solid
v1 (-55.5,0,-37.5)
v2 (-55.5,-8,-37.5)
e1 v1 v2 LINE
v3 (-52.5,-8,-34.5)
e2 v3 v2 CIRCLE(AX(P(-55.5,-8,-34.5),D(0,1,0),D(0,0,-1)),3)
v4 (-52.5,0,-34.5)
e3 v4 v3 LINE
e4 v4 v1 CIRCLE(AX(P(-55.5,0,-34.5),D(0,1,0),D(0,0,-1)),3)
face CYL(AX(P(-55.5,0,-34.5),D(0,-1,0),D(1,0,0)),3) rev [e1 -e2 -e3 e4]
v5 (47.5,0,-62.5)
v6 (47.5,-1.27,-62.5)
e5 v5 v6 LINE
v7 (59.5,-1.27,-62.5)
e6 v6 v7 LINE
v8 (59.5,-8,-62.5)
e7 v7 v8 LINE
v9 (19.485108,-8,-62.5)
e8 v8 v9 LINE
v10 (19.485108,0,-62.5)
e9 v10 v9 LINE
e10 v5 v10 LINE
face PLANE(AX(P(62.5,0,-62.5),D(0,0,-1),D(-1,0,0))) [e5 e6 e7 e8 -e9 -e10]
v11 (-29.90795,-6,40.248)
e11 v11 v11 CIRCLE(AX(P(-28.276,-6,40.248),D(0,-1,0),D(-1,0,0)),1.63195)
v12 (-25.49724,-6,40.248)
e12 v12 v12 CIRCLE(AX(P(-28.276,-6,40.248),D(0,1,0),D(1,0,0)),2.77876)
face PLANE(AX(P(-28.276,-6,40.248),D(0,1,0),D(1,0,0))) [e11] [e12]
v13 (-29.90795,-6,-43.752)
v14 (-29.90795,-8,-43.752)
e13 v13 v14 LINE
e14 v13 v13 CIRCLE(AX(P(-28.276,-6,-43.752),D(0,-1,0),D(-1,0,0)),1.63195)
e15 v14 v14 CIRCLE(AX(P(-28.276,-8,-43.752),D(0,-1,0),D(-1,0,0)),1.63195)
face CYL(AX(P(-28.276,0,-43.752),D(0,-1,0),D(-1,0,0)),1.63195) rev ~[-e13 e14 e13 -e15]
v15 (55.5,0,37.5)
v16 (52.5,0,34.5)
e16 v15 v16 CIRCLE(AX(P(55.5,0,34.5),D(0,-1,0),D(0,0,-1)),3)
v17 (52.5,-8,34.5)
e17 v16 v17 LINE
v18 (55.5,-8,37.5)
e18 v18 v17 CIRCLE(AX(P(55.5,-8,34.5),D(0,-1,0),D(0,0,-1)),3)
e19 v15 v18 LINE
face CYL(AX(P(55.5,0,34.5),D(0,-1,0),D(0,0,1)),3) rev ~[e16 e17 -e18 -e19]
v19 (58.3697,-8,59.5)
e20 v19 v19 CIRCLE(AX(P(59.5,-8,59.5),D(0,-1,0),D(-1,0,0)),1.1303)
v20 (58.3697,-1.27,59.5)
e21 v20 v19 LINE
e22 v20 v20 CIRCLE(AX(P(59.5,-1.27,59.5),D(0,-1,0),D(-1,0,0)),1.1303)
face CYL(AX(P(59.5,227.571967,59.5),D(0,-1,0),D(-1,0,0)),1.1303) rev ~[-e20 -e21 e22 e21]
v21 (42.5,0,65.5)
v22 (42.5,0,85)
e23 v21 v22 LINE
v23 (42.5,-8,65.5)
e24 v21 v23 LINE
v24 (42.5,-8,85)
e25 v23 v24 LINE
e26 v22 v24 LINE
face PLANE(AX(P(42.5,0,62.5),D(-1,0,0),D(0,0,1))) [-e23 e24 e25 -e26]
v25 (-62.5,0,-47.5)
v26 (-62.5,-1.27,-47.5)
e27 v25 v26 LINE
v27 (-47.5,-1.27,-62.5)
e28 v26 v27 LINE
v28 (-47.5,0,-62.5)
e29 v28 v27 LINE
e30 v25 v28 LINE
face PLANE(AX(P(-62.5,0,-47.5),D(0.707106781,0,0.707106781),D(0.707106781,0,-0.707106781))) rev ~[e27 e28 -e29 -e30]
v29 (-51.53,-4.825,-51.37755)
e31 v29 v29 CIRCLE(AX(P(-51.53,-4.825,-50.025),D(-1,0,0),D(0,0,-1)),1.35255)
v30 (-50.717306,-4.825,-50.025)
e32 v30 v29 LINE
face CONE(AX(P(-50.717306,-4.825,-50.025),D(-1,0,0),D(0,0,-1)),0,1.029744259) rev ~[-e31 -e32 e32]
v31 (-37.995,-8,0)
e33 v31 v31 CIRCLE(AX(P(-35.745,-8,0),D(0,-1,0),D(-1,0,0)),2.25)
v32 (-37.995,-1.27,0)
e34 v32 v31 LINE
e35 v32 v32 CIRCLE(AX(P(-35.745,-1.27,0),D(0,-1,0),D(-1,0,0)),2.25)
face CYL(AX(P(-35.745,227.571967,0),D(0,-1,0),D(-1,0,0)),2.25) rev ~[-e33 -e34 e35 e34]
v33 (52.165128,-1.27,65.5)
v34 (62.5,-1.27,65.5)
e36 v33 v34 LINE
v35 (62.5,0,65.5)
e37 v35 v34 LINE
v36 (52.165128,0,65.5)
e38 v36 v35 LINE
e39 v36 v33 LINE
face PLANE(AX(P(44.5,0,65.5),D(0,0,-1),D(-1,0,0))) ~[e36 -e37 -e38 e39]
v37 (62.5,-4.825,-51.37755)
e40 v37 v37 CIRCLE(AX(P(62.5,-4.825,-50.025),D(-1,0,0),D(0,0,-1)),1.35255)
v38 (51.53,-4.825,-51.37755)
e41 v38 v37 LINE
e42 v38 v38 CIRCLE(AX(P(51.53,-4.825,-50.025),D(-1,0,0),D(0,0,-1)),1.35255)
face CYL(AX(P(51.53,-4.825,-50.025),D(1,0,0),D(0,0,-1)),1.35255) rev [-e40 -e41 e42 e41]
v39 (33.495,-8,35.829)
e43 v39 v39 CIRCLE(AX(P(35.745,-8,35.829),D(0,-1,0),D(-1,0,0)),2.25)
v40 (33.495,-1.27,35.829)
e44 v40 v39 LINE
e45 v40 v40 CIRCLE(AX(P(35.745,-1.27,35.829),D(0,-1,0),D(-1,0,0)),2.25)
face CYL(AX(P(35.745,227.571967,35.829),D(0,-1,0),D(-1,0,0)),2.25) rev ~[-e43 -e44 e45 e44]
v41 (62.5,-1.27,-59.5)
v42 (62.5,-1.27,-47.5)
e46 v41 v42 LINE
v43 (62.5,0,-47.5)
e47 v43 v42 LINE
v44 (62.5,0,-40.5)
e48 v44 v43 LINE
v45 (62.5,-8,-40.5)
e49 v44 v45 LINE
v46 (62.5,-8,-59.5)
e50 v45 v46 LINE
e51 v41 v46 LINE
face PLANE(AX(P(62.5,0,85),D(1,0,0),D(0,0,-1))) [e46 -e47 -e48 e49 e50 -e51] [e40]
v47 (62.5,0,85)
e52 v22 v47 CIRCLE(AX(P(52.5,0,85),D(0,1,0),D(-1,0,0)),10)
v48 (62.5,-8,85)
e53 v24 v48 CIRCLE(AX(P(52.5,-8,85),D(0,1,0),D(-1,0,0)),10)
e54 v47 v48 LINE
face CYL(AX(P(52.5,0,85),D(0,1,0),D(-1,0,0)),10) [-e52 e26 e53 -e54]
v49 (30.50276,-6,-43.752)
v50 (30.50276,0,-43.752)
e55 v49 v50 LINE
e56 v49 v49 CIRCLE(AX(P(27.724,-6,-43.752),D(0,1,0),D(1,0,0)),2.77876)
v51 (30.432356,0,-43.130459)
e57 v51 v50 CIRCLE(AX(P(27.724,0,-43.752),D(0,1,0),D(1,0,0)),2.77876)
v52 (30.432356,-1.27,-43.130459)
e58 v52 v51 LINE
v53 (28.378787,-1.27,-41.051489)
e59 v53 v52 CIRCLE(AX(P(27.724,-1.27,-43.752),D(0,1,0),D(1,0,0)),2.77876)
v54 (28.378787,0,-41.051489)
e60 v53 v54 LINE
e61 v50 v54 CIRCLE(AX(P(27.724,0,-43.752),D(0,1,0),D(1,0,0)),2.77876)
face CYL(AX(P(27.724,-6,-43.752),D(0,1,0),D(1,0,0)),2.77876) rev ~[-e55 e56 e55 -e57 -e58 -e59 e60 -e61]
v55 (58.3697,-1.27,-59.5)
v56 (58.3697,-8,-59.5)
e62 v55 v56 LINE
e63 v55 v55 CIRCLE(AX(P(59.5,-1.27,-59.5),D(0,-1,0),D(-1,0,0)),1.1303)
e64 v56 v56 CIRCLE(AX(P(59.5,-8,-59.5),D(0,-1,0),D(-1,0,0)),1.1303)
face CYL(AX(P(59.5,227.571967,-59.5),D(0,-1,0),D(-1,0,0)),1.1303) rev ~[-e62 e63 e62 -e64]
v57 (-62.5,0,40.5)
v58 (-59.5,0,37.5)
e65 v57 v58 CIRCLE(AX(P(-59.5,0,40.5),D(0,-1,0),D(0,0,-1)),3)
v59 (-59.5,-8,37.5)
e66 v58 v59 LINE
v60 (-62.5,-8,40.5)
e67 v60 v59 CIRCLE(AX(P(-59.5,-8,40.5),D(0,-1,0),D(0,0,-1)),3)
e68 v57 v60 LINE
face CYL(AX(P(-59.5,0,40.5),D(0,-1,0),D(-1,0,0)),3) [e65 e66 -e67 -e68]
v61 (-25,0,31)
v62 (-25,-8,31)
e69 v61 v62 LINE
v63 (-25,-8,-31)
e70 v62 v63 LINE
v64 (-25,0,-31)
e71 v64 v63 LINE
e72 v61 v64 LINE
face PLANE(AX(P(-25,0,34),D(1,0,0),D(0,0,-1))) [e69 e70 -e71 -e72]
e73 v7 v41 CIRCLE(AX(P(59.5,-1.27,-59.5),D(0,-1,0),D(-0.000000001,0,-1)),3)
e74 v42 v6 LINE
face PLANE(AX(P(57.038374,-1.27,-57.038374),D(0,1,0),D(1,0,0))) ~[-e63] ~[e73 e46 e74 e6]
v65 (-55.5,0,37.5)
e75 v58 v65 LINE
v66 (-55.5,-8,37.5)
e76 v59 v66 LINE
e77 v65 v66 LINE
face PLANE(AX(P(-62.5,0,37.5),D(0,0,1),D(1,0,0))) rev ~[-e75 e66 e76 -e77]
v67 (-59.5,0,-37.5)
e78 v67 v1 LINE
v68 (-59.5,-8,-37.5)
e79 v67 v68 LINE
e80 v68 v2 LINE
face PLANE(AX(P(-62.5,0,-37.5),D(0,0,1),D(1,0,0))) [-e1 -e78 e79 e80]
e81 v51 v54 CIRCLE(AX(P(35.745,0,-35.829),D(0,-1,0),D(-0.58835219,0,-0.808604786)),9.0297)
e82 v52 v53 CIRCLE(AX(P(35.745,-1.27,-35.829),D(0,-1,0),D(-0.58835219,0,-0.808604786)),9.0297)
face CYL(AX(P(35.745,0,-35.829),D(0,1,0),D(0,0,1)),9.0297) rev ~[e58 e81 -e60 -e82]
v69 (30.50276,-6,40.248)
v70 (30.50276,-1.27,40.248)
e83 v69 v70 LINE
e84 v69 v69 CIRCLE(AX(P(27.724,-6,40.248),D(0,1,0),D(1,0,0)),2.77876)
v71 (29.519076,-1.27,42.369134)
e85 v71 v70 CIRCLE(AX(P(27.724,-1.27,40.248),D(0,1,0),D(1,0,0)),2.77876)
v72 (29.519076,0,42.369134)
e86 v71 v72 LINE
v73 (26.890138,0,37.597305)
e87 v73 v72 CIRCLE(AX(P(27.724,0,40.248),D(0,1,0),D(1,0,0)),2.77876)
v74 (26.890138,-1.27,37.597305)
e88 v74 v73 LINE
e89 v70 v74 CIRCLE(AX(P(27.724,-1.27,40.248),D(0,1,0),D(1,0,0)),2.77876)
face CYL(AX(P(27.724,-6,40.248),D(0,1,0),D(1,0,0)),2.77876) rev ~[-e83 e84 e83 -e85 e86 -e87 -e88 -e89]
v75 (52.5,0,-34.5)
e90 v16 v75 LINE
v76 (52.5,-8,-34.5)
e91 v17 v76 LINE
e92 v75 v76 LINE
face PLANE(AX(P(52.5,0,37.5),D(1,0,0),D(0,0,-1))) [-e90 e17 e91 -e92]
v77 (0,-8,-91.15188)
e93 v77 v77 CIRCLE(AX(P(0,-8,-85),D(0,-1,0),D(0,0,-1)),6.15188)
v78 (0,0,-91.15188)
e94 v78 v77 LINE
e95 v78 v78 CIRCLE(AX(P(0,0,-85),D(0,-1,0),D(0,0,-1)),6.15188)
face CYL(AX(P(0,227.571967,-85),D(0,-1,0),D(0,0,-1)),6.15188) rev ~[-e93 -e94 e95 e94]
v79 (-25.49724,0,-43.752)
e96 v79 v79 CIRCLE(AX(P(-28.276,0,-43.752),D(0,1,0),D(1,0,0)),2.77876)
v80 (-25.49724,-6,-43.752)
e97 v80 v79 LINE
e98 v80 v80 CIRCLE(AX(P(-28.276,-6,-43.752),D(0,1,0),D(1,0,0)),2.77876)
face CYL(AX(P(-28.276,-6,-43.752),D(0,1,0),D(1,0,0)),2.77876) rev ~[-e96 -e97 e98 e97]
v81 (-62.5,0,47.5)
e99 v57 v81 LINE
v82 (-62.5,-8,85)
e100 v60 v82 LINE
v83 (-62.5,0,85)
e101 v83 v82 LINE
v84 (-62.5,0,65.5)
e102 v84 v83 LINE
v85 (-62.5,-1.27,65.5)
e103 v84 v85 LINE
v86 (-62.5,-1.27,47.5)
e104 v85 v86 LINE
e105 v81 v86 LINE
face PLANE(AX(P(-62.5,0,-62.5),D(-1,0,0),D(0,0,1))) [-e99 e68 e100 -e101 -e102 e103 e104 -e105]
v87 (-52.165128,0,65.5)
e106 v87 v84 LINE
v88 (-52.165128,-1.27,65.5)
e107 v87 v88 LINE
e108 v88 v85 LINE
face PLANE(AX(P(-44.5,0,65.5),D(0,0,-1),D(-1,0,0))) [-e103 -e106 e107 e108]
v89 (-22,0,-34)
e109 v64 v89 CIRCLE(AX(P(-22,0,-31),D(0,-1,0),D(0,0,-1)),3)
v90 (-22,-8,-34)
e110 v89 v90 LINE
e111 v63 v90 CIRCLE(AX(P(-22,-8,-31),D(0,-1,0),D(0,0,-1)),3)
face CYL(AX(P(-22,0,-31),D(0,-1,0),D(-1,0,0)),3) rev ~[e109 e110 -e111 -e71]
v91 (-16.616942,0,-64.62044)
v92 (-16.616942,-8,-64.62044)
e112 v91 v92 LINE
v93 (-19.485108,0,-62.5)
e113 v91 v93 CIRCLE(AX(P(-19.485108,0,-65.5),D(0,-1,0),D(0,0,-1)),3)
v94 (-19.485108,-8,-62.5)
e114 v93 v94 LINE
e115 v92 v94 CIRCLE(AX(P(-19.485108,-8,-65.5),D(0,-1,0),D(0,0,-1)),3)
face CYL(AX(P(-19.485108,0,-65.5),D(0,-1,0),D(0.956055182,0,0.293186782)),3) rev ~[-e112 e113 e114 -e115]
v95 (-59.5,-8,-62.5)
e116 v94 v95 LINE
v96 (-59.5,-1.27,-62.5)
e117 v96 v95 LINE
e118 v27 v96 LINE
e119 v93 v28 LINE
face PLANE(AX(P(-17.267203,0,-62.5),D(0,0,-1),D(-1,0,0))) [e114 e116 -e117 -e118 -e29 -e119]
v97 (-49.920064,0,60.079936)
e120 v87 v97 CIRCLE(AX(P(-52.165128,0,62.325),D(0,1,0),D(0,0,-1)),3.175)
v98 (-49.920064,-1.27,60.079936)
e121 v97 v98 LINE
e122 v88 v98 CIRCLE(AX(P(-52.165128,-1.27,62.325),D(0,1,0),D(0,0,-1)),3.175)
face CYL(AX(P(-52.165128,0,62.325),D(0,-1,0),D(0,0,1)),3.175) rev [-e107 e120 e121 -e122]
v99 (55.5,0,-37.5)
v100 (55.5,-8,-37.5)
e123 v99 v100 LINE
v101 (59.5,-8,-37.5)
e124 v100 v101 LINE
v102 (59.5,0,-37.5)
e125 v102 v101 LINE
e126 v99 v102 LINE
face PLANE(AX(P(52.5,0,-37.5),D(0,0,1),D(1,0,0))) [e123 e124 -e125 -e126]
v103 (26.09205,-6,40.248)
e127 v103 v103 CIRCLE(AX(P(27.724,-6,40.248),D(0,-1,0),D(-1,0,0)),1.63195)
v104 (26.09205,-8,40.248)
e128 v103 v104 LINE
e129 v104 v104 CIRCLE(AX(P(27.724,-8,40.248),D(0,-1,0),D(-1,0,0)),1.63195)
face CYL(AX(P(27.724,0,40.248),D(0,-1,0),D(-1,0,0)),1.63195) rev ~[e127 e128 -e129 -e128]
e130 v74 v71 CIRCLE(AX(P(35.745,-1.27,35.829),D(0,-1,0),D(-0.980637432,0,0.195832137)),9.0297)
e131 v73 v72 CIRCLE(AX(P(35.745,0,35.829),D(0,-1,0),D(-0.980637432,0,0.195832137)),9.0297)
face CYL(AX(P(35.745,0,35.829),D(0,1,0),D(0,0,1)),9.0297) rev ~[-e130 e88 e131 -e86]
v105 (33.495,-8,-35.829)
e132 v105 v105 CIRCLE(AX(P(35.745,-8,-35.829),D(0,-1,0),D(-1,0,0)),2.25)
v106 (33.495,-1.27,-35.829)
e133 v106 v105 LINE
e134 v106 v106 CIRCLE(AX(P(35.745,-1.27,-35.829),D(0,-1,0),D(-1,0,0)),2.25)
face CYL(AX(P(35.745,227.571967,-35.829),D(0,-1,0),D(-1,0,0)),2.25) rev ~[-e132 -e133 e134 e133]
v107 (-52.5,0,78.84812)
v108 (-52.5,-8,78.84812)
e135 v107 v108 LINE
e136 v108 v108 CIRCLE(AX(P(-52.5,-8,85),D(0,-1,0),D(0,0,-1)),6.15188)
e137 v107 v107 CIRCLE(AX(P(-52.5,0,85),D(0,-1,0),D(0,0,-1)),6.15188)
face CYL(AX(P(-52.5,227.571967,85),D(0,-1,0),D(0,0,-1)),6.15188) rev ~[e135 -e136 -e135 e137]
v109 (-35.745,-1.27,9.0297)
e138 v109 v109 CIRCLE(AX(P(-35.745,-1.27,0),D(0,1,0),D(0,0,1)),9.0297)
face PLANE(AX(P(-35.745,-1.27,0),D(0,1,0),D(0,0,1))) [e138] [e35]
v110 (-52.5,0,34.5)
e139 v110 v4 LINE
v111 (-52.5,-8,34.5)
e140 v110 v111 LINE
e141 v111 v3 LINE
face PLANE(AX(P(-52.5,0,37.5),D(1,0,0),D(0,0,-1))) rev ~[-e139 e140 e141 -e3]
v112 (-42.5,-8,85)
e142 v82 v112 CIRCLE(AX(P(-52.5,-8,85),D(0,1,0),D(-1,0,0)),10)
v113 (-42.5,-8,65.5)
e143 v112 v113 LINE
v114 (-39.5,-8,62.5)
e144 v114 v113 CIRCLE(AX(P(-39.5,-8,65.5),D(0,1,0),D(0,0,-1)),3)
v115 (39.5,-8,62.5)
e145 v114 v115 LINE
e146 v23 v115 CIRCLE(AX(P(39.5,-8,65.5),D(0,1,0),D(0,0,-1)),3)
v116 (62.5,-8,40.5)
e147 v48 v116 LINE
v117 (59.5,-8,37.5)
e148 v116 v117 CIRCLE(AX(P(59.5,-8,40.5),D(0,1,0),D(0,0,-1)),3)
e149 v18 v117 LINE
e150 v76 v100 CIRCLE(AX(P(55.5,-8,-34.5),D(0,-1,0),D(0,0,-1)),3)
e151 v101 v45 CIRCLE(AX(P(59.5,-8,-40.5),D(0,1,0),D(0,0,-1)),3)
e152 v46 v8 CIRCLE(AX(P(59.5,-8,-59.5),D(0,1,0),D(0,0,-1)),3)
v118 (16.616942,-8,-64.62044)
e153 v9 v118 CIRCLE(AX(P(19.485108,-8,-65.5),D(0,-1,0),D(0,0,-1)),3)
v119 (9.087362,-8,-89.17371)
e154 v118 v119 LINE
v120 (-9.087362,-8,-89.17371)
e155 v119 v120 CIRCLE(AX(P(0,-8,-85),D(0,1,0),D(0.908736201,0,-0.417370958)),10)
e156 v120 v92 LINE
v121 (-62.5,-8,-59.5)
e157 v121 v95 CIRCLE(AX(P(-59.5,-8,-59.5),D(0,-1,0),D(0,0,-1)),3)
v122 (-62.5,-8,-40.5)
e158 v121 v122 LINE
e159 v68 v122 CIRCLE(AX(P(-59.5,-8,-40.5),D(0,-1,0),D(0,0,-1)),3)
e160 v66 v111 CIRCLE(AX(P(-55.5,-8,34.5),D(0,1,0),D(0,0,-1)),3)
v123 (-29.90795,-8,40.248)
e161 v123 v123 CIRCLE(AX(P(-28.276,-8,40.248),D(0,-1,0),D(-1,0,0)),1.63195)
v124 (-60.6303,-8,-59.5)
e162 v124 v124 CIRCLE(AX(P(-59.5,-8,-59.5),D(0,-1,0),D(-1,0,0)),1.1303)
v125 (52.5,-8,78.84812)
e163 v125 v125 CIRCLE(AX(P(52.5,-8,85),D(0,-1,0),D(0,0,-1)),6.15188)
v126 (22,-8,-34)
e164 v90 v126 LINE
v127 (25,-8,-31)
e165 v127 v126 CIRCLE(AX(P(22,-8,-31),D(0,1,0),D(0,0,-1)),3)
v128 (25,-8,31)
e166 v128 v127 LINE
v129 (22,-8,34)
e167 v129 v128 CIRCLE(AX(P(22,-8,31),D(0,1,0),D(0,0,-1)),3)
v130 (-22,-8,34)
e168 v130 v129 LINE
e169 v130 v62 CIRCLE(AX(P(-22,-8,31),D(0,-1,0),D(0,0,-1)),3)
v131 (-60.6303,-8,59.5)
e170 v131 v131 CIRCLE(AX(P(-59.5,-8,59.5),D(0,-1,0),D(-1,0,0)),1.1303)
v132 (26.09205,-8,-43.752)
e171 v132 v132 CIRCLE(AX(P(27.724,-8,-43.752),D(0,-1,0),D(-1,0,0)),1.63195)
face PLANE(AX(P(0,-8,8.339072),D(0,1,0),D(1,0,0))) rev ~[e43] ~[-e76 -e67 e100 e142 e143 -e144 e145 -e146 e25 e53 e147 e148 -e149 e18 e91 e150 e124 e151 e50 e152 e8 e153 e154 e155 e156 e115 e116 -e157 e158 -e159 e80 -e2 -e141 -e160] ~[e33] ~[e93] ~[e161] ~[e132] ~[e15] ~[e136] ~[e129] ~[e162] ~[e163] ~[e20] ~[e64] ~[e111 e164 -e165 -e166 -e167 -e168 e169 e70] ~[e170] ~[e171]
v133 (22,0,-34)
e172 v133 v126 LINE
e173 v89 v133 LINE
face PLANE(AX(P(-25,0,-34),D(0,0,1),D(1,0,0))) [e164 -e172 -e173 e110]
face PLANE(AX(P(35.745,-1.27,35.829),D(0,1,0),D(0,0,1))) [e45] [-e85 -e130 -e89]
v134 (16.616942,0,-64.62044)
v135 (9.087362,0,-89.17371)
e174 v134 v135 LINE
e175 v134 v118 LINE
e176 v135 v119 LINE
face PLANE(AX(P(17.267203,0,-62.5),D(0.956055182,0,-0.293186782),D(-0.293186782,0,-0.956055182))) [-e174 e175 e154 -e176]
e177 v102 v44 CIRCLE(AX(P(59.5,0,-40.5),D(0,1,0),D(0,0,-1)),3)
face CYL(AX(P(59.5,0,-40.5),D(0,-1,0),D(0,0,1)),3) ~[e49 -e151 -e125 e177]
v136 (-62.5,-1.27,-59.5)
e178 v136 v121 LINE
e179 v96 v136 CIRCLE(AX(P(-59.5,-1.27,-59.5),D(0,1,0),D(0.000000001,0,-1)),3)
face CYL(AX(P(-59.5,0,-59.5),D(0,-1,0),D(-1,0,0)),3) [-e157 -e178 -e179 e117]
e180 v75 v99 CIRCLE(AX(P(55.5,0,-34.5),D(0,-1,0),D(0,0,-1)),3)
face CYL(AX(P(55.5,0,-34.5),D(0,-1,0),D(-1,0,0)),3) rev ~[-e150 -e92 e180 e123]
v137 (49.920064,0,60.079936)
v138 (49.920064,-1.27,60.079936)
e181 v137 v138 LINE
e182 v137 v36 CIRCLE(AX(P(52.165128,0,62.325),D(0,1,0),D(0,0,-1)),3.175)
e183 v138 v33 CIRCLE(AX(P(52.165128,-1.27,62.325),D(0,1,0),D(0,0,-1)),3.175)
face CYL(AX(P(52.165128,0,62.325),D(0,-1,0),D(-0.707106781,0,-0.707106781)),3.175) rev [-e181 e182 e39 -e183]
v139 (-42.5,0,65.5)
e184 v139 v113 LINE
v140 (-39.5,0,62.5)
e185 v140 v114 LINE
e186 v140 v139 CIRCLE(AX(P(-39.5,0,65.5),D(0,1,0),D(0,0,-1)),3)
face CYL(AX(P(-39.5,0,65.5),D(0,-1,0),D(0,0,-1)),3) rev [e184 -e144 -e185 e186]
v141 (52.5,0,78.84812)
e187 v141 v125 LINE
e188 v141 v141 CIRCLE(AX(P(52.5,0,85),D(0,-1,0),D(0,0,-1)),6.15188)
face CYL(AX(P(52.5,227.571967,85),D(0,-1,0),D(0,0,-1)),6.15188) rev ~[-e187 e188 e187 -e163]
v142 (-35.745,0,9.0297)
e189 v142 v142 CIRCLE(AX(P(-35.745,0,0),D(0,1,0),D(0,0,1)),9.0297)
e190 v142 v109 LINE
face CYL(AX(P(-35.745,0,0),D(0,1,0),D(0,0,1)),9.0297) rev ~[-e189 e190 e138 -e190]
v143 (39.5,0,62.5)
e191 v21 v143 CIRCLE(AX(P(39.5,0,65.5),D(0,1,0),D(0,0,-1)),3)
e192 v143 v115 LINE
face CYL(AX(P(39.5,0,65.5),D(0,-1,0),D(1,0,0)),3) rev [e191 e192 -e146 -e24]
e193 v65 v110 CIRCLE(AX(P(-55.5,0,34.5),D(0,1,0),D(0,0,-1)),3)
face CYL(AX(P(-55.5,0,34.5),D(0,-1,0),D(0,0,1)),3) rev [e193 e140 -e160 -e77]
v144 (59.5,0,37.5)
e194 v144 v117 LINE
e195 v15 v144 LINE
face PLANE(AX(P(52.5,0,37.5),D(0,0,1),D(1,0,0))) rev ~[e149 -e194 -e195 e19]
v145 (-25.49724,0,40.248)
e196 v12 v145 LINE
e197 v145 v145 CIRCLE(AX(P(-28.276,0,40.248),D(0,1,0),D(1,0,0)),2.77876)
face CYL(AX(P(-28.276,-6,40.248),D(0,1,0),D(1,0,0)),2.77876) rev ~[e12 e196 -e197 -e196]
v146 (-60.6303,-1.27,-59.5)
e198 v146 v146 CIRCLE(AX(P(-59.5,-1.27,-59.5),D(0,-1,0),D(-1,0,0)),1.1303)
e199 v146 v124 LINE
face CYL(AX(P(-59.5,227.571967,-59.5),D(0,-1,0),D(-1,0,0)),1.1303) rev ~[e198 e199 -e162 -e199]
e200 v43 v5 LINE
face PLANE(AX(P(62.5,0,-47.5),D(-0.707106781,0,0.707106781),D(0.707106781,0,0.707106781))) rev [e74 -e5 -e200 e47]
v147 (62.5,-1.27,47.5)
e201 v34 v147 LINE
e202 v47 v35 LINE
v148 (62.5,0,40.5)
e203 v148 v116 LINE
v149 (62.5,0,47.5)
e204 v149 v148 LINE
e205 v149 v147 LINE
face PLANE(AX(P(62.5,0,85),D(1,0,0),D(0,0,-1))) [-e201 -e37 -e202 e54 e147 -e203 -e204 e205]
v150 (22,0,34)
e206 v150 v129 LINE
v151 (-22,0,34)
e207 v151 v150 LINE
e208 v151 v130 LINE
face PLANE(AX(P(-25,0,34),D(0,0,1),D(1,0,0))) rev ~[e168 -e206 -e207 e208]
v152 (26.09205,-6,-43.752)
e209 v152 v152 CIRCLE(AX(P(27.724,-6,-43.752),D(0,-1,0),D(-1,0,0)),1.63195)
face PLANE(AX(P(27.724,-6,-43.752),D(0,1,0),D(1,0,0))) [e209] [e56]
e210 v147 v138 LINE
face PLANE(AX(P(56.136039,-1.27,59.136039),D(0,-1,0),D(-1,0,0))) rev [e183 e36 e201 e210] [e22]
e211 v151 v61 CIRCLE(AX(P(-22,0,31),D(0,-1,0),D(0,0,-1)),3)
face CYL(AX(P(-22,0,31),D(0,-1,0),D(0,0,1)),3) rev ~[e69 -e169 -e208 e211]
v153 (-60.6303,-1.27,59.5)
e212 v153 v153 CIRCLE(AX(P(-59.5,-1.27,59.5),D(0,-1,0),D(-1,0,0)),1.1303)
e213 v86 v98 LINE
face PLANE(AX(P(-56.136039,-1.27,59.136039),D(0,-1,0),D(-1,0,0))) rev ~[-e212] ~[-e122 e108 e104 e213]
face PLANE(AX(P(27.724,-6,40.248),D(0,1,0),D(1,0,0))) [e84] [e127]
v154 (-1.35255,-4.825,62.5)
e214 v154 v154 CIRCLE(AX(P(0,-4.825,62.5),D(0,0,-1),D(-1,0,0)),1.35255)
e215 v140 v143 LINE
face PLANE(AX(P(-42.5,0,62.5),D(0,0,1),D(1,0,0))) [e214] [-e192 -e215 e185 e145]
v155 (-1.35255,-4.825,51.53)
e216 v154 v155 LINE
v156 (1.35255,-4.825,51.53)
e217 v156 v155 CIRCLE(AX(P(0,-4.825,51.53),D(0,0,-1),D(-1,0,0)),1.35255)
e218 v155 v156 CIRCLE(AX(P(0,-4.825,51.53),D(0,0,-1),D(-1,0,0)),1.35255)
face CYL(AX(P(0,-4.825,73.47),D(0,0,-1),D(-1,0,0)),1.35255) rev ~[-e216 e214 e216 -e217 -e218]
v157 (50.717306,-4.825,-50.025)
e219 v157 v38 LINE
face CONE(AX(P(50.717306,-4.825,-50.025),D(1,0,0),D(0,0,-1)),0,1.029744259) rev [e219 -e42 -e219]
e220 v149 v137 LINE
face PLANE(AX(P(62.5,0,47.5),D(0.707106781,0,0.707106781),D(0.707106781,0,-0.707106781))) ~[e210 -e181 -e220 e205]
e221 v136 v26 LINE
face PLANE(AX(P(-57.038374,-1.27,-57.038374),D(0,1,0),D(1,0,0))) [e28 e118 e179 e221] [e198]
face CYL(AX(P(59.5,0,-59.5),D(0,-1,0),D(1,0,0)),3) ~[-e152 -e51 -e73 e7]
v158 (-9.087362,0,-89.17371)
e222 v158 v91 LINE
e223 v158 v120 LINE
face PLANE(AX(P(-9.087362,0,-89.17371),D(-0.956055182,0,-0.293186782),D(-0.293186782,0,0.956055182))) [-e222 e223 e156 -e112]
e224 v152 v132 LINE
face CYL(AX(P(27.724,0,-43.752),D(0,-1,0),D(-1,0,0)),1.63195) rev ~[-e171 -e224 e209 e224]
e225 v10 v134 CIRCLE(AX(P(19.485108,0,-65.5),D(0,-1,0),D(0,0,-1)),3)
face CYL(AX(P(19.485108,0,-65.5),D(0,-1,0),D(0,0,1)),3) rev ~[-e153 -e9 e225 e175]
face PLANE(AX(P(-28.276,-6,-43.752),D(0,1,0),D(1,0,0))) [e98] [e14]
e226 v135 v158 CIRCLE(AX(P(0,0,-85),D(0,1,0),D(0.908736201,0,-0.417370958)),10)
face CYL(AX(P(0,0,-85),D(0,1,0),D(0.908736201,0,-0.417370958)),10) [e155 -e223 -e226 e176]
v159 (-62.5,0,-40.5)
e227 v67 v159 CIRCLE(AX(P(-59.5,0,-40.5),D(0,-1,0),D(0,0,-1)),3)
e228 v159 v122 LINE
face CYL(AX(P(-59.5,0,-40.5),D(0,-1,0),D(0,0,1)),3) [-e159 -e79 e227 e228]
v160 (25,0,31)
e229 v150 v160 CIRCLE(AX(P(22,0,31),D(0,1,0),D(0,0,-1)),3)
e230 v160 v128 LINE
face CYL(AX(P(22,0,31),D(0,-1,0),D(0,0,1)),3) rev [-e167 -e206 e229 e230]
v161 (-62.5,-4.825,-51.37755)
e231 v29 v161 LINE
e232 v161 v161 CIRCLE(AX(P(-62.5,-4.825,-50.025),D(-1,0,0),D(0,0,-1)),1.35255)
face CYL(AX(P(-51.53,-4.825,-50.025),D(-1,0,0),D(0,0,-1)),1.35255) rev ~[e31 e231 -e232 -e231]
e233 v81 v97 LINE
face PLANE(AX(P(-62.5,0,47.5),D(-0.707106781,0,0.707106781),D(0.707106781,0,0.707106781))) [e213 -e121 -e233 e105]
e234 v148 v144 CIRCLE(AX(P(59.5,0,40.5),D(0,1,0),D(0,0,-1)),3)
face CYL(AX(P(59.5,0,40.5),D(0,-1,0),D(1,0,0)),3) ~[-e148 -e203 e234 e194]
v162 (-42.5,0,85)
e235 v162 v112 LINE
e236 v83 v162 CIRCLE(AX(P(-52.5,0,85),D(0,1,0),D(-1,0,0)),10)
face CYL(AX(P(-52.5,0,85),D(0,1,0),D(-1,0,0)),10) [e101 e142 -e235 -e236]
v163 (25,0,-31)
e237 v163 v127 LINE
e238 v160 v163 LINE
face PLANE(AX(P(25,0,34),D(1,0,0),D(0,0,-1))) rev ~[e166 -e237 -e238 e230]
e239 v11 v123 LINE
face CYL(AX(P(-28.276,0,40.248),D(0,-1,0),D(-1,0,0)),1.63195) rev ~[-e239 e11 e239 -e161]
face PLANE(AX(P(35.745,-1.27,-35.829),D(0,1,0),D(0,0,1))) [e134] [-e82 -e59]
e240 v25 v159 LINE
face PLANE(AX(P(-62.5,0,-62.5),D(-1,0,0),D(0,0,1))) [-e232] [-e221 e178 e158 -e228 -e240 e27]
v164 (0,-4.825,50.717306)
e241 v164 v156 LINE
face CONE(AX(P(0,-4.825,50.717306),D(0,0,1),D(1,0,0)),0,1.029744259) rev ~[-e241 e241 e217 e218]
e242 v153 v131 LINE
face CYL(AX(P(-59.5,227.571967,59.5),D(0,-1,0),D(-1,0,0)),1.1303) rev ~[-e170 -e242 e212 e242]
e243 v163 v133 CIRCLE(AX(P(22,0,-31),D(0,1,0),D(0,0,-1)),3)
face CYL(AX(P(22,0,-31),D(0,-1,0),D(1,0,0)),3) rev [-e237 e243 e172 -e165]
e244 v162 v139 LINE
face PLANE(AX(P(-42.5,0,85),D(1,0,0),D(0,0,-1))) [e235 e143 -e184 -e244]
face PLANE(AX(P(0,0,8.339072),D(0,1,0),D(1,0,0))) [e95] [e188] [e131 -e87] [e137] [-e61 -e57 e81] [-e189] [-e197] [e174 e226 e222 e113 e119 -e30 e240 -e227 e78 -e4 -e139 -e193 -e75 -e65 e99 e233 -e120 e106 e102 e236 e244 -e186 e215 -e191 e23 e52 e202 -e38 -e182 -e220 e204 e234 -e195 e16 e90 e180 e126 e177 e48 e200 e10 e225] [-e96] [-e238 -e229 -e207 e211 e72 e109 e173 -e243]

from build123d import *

# Parameters (mm, degrees)
BOSS_EXTRUDE1_DEPTH                            = 8
SKETCH8_W                                      = 50
SKETCH8_H                                      = 68
SKETCH8_W_2                                    = 10
SKETCH8_H_2                                    = 75
CUT_EXTRUDE2_DEPTH                             = 9
F_9_16_12_TAPPED_HOLE1_D                       = 12.30376
FILLET1_R                                      = 3
M4_CLEARANCE_HOLE1_D                           = 4.5
SKETCH7_R                                      = 9.0297
CUT_EXTRUDE1_DEPTH                             = 1.27
F_4_40_TAPPED_HOLE1_D                          = 2.2606
CUT_EXTRUDE3_DEPTH                             = 1.27
FILLET2_R                                      = 3.175
FILLET2_OF_MIRROR1_R                           = 3.175
CBORE_FOR_4_SOCKET_HEAD_CAP_SCREW1_D           = 3.2639
CBORE_FOR_4_SOCKET_HEAD_CAP_SCREW1_CBORE_D     = 5.55752
CBORE_FOR_4_SOCKET_HEAD_CAP_SCREW1_CBORE_DEPTH = 5.999999938
F_6_32_TAPPED_HOLE2_D                          = 2.7051
F_6_32_TAPPED_HOLE2_DEPTH                      = 10.97
F_6_32_TAPPED_HOLE2_TIP                        = 0.81269403


with BuildPart() as part:
    # Sketch1 → Boss-Extrude1 (new body)
    with BuildSketch(Plane(origin=(0, 0, 0), x_dir=(1, 0, 0), z_dir=(0, 1, 0))):
        with BuildLine():
            Line((62.5, -85), (62.5, 62.5))
            Line((62.5, 62.5), (17.267202684, 62.5))
            Line((17.267202684, 62.5), (9.08736201, 89.173709584))
            ThreePointArc((9.08736201, 89.173709584), (0, 95), (-9.08736201, 89.173709584))
            Line((-9.08736201, 89.173709584), (-17.267202684, 62.5))
            Line((-17.267202684, 62.5), (-62.5, 62.5))
            Line((-62.5, 62.5), (-62.5, -85))
            ThreePointArc((-62.5, -85), (-52.5, -95), (-42.5, -85))
            Line((-42.5, -85), (-42.5, -62.5))
            Line((-42.5, -62.5), (42.5, -62.5))
            Line((42.5, -62.5), (42.5, -85))
            ThreePointArc((42.5, -85), (52.5, -95), (62.5, -85))
        make_face()
    extrude(amount=-BOSS_EXTRUDE1_DEPTH)

    # Sketch8 → Cut-Extrude2 (cut, through all)
    with BuildSketch(Plane(origin=(0, 0, 0), x_dir=(1, 0, 0), z_dir=(0, 1, 0))):
        Rectangle(SKETCH8_W, SKETCH8_H)
        with Locations((-57.5, 0)):
            Rectangle(SKETCH8_W_2, SKETCH8_H_2)
        with Locations((57.5, 0)):
            Rectangle(SKETCH8_W_2, SKETCH8_H_2)
    extrude(amount=-CUT_EXTRUDE2_DEPTH, mode=Mode.SUBTRACT)

    # 9/16-12 Tapped Hole1 (through all)
    with Locations(Plane(origin=(-52.5, 0, 85), x_dir=(0, 0, 1), z_dir=(0, 1, 0))):
        with Locations((0, 0), (-170, 52.5), (0, 105)):
            Hole(F_9_16_12_TAPPED_HOLE1_D / 2)

    # Fillet1
    fillet1_edges = [part.edges().sort_by_distance(p)[0] for p in [
        (17.267202684, -4, -62.5),
        (62.5, -4, -62.5),
        (42.5, -4, 62.5),
        (-42.5, -4, 62.5),
        (-62.5, -4, -62.5),
        (-17.267202684, -4, -62.5),
        (-25, -4, 34),
        (-25, -4, -34),
        (25, -4, -34),
        (25, -4, 34),
        (-62.5, -4, 37.5),
        (-62.5, -4, -37.5),
        (-52.5, -4, -37.5),
        (-52.5, -4, 37.5),
        (62.5, -4, -37.5),
        (62.5, -4, 37.5),
        (52.5, -4, 37.5),
        (52.5, -4, -37.5),
    ]]
    fillet(fillet1_edges, radius=FILLET1_R)

    # M4 Clearance Hole1 (through all)
    with Locations(Plane(origin=(0, 0, 0), x_dir=(1, 0, 0), z_dir=(0, 1, 0))):
        with Locations((-35.745, 0), (35.745, -35.829), (35.745, 35.829)):
            Hole(M4_CLEARANCE_HOLE1_D / 2)

    # Sketch7 → Cut-Extrude1 (cut)
    with BuildSketch(Plane(origin=(0, 0, 0), x_dir=(1, 0, 0), z_dir=(0, 1, 0))):
        with Locations(Location((-35.745, 0, 0), (0, 0, 270))):  # turned: the seam where the file's is
            Circle(SKETCH7_R)
        with Locations(Location((35.745, 35.829, 0), (0, 0, 270))):  # turned: the seam where the file's is
            Circle(SKETCH7_R)
        with Locations(Location((35.745, -35.829, 0), (0, 0, 270))):  # turned: the seam where the file's is
            Circle(SKETCH7_R)
    extrude(amount=-CUT_EXTRUDE1_DEPTH, mode=Mode.SUBTRACT)

    # #4-40 Tapped Hole1 (through all)
    with Locations(Plane(origin=(0, 0, 0), x_dir=(1, 0, 0), z_dir=(0, 1, 0))):
        with Locations((-59.5, 59.5), (59.5, 59.5), (59.5, -59.5), (-59.5, -59.5)):
            Hole(F_4_40_TAPPED_HOLE1_D / 2)

    # Sketch11 → Cut-Extrude3 (cut)
    with BuildSketch(Plane(origin=(0, 0, 0), x_dir=(1, 0, 0), z_dir=(0, 1, 0))):
        with BuildLine():
            Line((-62.5, 47.5), (-47.5, 62.5))
            Line((-47.5, 62.5), (-59.5, 62.5))
            ThreePointArc((-59.5, 62.5), (-61.621320344, 61.621320344), (-62.5, 59.5))
            Line((-62.5, 59.5), (-62.5, 47.5))
        make_face()
        Polygon((-62.5, -47.5), (-44.5, -65.5), (-62.5, -65.5), align=None)
    cut_extrude3 = extrude(amount=-CUT_EXTRUDE3_DEPTH, mode=Mode.SUBTRACT)

    # Fillet2
    fillet2_edges = [part.edges().sort_by_distance(p)[0] for p in [
        (-44.5, -0.635, 65.5),
    ]]
    fillet(fillet2_edges, radius=FILLET2_R)

    # Mirror1: Cut-Extrude3 across plane
    add(cut_extrude3.mirror(Plane(origin=(0, 0, 0), x_dir=(0, 0, 1), z_dir=(1, 0, 0))), mode=Mode.SUBTRACT)

    # Fillet2 of Mirror1
    fillet2_of_mirror1_edges = [part.edges().sort_by_distance(p)[0] for p in [
        (44.5, -0.635, 65.5),
    ]]
    fillet(fillet2_of_mirror1_edges, radius=FILLET2_OF_MIRROR1_R)

    # Sketch13 → #6-32 Tapped Hole1 (revolve, cut)
    with BuildSketch(Plane(origin=(62.5, -4.825, -50.025), x_dir=(0, 0, -1), z_dir=(0, 1, 0))):
        Polygon((0, 0), (0, 11.78269403), (1.35255, 10.97), (1.35255, 0), align=None)
    f_6_32_tapped_hole1 = revolve(axis=Axis((68.85, -4.825, -50.025), (-1, 0, 0)), mode=Mode.SUBTRACT)

    # Mirror2: #6-32 Tapped Hole1 across plane
    add(f_6_32_tapped_hole1.mirror(Plane(origin=(0, 0, 0), x_dir=(0, 0, 1), z_dir=(1, 0, 0))), mode=Mode.SUBTRACT)

    # CBORE for #4 Socket Head Cap Screw1 (through all)
    with Locations(Plane(origin=(0, 0, 0), x_dir=(1, 0, 0), z_dir=(0, 1, 0))):
        with Locations((-28.276, 43.752), (27.724, 43.752), (27.724, -40.248), (-28.276, -40.248)):
            CounterBoreHole(CBORE_FOR_4_SOCKET_HEAD_CAP_SCREW1_D / 2, CBORE_FOR_4_SOCKET_HEAD_CAP_SCREW1_CBORE_D / 2, CBORE_FOR_4_SOCKET_HEAD_CAP_SCREW1_CBORE_DEPTH)

    # #6-32 Tapped Hole2
    with Locations(Plane.XY.offset(62.5)):
        with Locations((0, -4.825)):
            Hole(F_6_32_TAPPED_HOLE2_D / 2, depth=F_6_32_TAPPED_HOLE2_DEPTH)
            with Locations((0, 0, -(F_6_32_TAPPED_HOLE2_DEPTH + F_6_32_TAPPED_HOLE2_TIP / 2))):  # 118° drill point
                Cone(0, F_6_32_TAPPED_HOLE2_D / 2, F_6_32_TAPPED_HOLE2_TIP, mode=Mode.SUBTRACT)


solid = part.part
